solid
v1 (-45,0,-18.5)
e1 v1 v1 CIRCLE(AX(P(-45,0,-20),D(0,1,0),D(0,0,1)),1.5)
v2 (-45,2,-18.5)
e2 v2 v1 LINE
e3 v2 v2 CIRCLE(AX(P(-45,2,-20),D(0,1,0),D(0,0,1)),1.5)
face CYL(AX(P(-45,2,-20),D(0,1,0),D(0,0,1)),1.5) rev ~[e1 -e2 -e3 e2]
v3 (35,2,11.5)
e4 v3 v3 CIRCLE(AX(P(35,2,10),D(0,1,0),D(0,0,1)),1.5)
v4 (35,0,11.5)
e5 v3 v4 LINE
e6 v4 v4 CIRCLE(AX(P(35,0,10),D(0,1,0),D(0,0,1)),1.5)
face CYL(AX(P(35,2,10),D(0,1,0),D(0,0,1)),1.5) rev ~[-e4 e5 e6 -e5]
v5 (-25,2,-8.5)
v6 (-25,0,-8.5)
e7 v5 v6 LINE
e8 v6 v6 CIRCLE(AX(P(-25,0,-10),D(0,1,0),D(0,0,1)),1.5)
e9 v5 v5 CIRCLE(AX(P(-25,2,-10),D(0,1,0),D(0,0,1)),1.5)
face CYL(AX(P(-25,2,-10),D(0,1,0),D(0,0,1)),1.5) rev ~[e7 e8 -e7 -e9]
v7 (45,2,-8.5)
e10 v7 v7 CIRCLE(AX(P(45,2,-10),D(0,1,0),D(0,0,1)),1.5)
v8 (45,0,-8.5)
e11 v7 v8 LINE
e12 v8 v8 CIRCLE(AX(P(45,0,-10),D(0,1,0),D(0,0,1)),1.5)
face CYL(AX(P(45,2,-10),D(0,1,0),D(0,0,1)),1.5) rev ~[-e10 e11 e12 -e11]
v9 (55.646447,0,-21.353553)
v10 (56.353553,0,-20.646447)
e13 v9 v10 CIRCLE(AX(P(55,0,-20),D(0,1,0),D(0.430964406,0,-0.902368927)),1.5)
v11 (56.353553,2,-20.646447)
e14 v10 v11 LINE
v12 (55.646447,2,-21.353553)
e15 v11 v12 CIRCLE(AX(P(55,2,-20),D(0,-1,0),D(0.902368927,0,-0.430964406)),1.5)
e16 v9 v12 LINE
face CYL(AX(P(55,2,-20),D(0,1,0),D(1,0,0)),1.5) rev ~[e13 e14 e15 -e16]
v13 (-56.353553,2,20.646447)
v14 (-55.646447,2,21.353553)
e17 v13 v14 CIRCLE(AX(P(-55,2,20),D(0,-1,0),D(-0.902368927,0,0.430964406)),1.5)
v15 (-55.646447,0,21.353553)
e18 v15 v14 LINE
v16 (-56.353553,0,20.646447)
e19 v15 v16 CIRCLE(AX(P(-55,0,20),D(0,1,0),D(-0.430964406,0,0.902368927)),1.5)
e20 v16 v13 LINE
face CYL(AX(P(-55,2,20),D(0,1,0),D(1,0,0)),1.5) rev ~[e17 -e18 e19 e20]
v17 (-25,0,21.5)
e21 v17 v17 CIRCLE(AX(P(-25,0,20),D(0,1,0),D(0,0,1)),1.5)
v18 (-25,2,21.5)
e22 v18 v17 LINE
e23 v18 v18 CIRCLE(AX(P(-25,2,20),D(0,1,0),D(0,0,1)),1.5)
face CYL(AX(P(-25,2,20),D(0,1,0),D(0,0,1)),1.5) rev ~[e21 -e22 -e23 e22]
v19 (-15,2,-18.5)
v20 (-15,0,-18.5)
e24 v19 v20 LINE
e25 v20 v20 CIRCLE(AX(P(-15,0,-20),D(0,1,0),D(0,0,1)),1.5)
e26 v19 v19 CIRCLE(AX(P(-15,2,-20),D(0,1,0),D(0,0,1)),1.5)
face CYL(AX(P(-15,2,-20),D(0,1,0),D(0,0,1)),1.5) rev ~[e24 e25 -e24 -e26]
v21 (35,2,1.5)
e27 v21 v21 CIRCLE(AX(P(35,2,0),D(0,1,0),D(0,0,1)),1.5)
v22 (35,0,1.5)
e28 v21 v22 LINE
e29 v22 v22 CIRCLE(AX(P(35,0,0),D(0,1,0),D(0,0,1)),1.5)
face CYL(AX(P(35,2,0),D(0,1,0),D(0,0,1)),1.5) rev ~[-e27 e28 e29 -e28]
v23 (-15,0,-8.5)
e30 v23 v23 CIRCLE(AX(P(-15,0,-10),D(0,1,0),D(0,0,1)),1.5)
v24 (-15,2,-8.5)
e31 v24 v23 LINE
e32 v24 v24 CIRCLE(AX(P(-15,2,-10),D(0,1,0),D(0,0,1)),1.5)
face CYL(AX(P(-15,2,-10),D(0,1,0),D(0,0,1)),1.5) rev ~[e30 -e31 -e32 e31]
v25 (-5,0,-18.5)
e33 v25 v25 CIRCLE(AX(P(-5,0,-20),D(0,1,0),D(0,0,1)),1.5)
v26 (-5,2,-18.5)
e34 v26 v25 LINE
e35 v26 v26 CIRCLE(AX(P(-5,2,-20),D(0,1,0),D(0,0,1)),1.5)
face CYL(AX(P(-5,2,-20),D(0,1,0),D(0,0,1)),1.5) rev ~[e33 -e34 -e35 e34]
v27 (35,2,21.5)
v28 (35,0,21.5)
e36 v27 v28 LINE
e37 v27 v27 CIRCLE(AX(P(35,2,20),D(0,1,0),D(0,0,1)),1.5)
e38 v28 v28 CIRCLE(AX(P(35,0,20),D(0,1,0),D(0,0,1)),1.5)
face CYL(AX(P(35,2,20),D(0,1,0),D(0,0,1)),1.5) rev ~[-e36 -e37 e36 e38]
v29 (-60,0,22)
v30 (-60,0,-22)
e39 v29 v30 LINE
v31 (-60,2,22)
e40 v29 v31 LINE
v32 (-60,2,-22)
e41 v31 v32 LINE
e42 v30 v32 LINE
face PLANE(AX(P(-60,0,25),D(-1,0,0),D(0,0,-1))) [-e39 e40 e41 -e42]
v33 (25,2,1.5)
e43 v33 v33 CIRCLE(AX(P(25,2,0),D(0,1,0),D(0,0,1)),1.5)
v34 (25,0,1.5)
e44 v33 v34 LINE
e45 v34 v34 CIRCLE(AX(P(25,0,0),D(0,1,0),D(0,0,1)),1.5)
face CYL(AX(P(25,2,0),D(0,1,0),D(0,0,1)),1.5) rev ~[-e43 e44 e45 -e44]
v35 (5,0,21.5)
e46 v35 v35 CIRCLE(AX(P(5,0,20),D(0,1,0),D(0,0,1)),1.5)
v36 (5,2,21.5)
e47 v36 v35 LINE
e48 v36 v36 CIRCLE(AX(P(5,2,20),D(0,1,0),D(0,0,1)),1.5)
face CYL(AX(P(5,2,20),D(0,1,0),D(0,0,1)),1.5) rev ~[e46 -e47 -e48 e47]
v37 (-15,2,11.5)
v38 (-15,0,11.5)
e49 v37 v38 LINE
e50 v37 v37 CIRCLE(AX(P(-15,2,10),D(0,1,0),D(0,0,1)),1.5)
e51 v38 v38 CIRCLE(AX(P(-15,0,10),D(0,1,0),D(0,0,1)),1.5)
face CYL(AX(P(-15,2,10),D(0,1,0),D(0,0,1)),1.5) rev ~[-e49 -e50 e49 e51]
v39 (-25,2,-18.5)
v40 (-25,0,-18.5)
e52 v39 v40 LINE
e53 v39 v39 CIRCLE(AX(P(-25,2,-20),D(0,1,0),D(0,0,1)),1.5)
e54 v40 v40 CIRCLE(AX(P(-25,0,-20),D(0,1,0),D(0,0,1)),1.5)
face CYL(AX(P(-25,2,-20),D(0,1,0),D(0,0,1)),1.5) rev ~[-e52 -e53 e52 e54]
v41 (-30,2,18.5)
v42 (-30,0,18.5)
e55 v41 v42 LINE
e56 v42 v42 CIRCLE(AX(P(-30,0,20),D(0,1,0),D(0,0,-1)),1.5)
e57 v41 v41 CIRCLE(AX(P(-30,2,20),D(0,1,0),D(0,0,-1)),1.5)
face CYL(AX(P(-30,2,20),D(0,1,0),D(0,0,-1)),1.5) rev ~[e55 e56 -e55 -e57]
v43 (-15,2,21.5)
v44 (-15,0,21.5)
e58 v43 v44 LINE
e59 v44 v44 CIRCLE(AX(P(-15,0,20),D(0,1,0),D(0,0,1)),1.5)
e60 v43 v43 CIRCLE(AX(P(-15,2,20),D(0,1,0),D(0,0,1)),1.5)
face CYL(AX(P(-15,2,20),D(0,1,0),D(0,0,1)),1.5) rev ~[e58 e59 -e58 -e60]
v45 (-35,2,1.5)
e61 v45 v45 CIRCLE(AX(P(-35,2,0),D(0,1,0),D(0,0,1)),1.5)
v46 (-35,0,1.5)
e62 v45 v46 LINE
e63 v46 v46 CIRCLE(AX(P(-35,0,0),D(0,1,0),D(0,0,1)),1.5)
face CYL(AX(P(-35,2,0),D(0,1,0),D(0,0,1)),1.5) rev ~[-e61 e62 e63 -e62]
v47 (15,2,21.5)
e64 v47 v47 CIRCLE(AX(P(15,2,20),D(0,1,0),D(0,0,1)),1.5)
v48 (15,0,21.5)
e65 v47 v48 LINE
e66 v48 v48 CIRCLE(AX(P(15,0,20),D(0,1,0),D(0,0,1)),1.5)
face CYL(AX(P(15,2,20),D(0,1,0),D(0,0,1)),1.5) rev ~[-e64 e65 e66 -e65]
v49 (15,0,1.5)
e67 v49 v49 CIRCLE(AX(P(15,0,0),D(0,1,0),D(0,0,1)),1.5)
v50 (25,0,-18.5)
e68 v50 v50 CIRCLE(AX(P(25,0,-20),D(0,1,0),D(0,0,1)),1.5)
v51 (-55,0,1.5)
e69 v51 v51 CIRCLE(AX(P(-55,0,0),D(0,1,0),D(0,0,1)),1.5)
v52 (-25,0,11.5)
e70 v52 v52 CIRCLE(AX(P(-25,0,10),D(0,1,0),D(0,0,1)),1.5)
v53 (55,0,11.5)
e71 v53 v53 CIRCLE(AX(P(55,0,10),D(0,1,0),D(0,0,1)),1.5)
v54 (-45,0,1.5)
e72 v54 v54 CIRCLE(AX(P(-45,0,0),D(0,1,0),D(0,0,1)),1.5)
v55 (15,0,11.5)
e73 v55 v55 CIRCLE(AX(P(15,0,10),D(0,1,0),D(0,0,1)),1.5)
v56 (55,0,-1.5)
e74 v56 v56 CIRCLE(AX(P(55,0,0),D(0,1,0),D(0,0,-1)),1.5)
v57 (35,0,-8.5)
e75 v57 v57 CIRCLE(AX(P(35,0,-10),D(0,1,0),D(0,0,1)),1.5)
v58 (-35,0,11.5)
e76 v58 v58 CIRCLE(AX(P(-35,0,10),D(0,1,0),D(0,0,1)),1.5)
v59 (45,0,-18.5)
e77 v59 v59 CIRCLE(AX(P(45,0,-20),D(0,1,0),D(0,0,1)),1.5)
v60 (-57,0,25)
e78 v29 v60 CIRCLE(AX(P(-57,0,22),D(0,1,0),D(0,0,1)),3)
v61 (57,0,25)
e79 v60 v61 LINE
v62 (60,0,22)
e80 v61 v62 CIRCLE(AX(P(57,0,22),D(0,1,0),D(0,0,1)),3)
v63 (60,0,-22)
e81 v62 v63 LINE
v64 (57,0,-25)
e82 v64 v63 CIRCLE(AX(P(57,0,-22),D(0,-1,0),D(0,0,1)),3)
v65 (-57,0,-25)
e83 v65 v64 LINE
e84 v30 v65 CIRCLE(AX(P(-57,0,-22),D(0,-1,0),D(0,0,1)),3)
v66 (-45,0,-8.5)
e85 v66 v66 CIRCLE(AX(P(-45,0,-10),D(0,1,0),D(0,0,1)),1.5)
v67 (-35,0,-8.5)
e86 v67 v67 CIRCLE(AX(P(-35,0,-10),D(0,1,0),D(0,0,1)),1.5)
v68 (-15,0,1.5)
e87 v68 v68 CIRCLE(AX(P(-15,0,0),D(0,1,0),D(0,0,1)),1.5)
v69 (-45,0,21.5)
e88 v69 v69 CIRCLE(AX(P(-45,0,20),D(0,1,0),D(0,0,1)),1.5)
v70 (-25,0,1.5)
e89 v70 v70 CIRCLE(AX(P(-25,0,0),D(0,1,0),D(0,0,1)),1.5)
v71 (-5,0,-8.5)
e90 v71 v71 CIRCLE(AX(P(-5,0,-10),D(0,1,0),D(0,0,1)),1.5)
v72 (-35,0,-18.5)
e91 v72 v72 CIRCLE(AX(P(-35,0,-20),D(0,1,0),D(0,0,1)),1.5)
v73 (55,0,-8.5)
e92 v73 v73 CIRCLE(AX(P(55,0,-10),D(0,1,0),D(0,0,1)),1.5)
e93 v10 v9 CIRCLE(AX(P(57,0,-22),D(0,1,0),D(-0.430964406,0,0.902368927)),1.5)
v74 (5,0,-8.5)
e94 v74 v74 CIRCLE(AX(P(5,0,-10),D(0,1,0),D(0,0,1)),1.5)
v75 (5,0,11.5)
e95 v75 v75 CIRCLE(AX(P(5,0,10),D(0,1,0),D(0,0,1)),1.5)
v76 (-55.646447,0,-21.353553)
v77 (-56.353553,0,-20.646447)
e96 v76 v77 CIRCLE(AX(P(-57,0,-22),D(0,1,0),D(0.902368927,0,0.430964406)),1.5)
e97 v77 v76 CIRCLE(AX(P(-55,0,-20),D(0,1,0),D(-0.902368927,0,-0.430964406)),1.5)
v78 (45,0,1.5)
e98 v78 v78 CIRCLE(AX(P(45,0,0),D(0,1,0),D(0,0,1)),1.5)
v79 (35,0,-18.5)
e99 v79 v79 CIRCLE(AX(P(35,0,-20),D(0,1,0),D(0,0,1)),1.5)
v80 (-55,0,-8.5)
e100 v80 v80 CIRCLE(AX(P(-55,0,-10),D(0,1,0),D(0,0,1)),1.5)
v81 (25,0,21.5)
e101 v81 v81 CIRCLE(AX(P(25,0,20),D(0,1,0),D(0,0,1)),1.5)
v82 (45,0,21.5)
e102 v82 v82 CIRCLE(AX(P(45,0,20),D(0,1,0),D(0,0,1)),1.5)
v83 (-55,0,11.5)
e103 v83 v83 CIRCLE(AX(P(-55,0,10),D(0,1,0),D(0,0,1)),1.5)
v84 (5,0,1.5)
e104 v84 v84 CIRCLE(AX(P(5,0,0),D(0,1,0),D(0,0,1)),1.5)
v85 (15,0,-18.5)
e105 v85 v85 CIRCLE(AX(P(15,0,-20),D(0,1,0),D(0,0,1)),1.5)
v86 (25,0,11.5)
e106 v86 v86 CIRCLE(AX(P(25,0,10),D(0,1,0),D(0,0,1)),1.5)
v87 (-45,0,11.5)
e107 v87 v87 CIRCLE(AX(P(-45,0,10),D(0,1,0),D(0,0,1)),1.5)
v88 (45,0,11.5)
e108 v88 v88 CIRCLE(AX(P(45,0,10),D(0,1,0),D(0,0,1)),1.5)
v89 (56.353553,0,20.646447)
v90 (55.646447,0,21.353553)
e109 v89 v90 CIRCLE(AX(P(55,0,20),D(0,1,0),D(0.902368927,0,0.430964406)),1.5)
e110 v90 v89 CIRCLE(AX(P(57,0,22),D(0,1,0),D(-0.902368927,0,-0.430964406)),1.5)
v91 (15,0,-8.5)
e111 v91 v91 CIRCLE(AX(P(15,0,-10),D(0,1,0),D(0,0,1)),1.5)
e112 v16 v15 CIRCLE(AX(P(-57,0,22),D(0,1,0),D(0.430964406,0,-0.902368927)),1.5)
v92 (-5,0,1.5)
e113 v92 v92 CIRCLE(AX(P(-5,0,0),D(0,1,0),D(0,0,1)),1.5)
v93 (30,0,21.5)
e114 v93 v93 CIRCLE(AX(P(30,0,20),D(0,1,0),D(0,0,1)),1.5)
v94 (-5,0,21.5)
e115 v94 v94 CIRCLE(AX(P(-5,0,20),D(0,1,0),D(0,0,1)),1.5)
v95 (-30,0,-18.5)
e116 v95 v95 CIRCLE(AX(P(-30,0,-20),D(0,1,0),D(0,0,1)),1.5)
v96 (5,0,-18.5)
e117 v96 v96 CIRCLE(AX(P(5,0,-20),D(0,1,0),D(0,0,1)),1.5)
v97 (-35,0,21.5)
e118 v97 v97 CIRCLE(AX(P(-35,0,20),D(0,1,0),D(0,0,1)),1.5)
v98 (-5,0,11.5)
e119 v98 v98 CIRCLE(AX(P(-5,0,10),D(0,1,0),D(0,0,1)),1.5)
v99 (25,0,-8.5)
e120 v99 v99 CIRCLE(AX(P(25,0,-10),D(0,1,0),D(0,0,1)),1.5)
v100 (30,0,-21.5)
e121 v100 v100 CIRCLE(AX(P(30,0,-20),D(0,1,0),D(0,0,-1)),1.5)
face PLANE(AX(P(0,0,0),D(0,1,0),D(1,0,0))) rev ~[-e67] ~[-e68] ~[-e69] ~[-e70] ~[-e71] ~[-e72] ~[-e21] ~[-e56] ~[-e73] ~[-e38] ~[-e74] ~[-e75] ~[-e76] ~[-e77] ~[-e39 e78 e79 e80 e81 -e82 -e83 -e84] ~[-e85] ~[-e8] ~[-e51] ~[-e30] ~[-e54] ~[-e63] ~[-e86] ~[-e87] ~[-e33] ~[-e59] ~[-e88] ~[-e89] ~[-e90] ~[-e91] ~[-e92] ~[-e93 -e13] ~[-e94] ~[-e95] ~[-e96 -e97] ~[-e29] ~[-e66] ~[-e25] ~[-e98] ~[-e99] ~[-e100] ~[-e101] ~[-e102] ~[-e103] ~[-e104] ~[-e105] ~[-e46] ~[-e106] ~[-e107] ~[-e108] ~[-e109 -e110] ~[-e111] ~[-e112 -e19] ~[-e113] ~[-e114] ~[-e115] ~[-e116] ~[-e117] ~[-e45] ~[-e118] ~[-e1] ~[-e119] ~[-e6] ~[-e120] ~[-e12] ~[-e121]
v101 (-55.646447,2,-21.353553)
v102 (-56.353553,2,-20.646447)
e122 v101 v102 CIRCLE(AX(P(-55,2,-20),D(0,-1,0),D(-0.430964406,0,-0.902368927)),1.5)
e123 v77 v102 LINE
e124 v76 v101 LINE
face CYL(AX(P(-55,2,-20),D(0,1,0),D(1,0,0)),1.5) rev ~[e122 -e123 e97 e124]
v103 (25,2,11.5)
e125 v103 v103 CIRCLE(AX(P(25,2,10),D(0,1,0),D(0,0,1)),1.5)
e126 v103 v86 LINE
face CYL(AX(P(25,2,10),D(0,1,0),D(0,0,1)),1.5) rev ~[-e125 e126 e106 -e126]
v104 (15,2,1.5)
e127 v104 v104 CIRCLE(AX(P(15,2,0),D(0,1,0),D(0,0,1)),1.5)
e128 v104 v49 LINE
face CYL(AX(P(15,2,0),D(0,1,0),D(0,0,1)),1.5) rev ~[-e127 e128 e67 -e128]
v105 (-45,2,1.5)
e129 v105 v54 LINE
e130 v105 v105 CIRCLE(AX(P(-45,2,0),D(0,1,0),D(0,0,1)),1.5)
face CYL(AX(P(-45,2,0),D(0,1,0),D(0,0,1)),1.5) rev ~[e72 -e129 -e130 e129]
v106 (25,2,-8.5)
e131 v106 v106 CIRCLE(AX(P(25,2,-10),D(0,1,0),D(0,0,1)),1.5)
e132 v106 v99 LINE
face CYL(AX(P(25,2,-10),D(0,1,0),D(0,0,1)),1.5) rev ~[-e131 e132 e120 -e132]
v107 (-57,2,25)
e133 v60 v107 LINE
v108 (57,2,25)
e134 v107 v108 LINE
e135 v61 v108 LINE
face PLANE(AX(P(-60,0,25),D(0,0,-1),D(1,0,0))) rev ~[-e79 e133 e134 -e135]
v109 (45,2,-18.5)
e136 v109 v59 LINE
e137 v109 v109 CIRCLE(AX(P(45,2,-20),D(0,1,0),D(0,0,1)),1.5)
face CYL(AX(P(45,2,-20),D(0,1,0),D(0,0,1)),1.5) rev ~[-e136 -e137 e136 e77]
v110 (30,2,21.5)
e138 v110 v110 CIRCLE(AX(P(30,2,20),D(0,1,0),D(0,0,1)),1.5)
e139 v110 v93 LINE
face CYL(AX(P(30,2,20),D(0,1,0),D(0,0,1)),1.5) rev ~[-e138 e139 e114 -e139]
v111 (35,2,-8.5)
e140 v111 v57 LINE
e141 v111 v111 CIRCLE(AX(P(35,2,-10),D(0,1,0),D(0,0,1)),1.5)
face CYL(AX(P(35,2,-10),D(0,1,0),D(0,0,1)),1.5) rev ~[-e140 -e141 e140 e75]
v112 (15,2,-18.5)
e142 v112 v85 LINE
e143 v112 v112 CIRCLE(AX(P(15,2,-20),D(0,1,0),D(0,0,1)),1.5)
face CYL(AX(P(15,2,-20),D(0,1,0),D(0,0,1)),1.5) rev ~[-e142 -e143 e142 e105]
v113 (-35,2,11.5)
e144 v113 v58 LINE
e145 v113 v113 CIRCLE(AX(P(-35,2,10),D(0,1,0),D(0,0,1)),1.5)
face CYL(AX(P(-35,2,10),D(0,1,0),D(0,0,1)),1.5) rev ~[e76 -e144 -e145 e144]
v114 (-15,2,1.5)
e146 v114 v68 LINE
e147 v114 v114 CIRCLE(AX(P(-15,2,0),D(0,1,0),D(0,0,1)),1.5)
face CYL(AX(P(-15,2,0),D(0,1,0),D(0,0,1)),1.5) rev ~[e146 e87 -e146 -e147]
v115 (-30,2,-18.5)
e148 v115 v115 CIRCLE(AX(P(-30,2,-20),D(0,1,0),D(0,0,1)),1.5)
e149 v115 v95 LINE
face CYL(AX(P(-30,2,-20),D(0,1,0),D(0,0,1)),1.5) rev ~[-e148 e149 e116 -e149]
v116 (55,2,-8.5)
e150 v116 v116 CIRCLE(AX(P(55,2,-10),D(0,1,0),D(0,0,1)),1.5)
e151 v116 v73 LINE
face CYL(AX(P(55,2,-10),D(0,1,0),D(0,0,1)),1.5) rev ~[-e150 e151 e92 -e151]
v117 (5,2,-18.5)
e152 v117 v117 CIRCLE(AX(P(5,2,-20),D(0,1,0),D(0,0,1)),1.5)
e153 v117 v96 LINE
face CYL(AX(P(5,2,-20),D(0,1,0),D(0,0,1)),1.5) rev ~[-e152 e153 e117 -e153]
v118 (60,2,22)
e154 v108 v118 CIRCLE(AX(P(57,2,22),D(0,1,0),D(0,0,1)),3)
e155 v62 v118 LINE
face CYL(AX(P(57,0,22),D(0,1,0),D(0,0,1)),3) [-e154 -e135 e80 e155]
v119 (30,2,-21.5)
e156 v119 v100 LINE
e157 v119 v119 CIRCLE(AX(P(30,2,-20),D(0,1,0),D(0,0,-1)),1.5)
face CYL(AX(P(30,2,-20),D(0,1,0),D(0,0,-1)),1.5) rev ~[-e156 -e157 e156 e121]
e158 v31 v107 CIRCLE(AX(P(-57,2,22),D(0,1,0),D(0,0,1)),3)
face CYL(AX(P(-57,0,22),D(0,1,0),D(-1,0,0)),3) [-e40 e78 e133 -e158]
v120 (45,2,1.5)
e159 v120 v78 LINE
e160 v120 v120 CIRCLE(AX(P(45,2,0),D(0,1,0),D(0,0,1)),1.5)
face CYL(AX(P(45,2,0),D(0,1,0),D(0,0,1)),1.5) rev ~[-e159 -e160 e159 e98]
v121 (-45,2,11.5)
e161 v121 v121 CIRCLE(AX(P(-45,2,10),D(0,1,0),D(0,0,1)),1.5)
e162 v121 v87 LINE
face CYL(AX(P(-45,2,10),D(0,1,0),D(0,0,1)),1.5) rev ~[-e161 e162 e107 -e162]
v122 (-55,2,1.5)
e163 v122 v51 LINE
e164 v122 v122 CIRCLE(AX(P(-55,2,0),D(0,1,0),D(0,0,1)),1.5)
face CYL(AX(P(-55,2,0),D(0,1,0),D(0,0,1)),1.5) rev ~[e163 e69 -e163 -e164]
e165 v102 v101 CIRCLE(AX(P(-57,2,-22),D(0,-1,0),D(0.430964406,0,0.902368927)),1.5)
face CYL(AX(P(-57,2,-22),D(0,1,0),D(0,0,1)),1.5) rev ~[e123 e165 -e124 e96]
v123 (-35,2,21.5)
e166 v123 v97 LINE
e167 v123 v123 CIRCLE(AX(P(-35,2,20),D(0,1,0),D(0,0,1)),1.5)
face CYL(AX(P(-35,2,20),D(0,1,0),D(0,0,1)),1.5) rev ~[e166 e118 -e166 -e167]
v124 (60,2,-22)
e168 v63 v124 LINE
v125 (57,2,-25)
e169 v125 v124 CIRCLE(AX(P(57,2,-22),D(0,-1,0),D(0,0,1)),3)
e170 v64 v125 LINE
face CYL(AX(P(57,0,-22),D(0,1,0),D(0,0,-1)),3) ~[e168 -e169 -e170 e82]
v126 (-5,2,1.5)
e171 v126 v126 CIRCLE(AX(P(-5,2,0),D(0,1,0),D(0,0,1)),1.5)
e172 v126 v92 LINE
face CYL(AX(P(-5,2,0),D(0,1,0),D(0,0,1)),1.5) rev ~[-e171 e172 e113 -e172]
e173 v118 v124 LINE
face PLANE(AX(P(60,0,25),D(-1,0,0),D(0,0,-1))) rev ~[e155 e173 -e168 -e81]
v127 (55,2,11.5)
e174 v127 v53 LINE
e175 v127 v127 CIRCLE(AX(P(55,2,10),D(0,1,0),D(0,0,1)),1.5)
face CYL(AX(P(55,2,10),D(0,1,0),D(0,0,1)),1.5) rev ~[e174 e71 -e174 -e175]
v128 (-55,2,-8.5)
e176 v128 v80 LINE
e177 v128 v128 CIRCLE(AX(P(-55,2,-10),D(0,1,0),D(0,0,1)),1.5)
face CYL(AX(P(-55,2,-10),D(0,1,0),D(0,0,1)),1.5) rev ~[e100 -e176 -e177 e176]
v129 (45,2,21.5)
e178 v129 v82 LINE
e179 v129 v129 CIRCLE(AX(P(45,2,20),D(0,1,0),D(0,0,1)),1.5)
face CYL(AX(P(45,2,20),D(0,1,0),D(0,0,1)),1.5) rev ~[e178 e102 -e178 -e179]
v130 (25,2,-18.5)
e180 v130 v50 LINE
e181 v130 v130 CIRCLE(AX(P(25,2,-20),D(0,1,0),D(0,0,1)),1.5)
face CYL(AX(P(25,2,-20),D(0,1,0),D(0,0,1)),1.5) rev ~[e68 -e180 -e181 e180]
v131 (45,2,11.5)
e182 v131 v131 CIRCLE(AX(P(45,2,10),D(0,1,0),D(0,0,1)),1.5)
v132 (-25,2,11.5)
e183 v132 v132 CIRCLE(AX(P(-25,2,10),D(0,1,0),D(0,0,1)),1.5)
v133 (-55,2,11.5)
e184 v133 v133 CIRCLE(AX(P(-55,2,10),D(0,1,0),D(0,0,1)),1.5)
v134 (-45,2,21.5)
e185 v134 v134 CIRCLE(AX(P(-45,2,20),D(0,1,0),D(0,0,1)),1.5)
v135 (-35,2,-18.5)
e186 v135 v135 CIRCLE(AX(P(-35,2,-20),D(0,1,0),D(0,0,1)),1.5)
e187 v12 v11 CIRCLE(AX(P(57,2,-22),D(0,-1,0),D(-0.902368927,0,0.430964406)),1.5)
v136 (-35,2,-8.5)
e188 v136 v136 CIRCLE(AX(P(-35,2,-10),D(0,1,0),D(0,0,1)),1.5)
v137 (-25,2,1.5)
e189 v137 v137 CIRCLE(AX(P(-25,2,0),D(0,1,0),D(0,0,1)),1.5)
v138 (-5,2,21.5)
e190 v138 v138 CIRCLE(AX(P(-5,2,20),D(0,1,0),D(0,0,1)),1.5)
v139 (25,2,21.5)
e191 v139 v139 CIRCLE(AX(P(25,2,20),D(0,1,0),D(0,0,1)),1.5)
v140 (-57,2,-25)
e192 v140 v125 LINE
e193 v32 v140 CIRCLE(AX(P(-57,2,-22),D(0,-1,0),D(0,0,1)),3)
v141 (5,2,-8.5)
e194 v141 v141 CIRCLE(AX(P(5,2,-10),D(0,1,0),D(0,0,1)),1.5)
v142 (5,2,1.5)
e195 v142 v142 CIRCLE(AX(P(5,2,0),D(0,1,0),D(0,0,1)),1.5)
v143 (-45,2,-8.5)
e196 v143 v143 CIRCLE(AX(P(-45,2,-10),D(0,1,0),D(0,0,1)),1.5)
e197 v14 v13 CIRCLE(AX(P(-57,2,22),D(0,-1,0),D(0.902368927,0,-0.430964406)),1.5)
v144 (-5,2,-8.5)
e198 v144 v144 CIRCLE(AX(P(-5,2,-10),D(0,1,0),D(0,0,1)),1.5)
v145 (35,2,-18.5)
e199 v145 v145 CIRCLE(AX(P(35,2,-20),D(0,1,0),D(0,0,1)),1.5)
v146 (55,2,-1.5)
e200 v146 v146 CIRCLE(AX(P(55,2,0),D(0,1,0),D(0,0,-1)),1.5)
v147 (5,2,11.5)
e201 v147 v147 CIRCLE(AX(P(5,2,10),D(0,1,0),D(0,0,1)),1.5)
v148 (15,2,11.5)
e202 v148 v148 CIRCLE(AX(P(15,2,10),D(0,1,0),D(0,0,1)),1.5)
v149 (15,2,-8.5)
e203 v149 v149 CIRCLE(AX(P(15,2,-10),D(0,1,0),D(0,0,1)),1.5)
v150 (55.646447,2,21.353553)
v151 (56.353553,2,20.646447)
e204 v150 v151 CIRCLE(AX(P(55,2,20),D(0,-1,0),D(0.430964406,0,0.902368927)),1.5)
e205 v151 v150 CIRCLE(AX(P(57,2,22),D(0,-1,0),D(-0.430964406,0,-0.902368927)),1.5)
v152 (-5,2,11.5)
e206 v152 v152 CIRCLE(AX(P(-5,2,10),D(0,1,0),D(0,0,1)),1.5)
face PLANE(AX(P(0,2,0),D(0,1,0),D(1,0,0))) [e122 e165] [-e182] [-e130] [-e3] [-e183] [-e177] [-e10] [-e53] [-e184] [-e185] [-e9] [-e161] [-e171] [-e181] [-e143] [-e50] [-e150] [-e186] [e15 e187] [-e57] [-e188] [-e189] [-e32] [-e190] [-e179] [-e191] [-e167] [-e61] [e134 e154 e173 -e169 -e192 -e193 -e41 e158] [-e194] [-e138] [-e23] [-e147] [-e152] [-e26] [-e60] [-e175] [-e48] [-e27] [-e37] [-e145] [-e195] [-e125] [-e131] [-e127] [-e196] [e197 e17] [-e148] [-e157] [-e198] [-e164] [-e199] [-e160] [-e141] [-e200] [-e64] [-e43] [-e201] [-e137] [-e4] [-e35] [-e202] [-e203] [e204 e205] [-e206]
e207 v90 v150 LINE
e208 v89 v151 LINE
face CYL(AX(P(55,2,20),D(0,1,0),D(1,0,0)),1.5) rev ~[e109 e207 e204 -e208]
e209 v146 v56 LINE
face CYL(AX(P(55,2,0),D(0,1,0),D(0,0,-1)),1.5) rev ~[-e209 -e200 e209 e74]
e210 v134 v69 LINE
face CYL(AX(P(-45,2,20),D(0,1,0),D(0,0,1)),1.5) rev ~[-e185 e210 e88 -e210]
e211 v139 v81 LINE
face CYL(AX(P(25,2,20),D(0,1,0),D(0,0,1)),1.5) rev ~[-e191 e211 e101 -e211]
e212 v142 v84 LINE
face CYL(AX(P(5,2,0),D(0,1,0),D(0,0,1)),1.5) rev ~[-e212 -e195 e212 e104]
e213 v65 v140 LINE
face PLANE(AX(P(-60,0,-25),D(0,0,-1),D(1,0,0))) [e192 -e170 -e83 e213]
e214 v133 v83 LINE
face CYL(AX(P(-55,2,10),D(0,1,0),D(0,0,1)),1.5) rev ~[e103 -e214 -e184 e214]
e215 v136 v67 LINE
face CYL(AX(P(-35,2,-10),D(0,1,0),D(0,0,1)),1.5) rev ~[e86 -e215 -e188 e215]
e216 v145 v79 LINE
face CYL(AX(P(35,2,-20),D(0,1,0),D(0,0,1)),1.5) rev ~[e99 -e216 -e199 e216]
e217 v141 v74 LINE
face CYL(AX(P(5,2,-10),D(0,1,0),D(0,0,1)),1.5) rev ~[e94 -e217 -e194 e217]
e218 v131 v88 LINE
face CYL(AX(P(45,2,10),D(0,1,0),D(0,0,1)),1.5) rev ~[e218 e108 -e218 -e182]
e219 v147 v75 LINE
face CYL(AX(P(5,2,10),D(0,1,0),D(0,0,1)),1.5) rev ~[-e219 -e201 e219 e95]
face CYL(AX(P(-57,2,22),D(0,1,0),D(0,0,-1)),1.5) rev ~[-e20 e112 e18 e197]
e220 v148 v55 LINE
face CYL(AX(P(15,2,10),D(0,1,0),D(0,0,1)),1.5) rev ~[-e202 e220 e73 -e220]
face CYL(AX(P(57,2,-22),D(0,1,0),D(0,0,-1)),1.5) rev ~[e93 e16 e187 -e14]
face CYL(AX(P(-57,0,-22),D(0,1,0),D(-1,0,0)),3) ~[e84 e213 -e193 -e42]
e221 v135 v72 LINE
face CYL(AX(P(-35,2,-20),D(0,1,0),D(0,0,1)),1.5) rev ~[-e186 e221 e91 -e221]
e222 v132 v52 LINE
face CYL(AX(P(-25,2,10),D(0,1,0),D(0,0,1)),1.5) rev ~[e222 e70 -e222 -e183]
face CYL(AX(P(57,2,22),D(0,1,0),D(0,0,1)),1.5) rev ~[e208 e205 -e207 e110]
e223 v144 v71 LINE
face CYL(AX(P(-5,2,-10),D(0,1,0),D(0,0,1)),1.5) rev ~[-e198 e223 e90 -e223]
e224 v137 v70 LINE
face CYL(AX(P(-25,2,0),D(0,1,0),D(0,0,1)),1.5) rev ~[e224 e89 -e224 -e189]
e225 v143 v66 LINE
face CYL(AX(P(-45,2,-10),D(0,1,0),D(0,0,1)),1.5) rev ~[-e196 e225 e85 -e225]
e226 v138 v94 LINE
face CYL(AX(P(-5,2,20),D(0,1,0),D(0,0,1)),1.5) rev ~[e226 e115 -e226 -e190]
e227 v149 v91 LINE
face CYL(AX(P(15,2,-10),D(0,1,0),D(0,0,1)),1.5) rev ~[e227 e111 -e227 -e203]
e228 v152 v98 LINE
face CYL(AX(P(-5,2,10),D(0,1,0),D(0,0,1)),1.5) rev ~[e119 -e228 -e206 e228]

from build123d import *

# Parameters (mm, degrees)
SKETCH_1_W          = 120
SKETCH_1_H          = 50
EXTRUDE_1_DEPTH     = 2
SKETCH_2_R          = 1.5
CUT_EXTRUDE_1_DEPTH = 66.030761952
FILLET_1_R          = 3
SKETCH_3_R          = 1.5
CUT_EXTRUDE_2_DEPTH = 66.030761952


with BuildPart() as part:
    # 草图1 → 凸台-拉伸1 (new body)
    with BuildSketch(Plane(origin=(0, 0, 0), x_dir=(1, 0, 0), z_dir=(0, 1, 0))):
        Rectangle(SKETCH_1_W, SKETCH_1_H)
    extrude(amount=EXTRUDE_1_DEPTH)

    # 草图2 → 切除-拉伸1 (cut, through all)
    with BuildSketch(Plane(origin=(0, 2, 0), x_dir=(1, 0, 0), z_dir=(0, 1, 0))):
        with Locations(Location((-30, 20, 0), (0, 0, 270))):
            Circle(SKETCH_2_R)
        with Locations(Location((-55, 0, 0), (0, 0, 270))):
            Circle(SKETCH_2_R)
        with Locations(Location((-30, -20, 0), (0, 0, 90))):
            Circle(SKETCH_2_R)
        with Locations(Location((30, -20, 0), (0, 0, 270))):
            Circle(SKETCH_2_R)
        with Locations(Location((55, 0, 0), (0, 0, 90))):
            Circle(SKETCH_2_R)
        with Locations(Location((30, 20, 0), (0, 0, 90))):
            Circle(SKETCH_2_R)
        with Locations(Location((-57, 22, 0), (0, 0, 270))):
            Circle(SKETCH_2_R)
        with Locations(Location((-57, -22, 0), (0, 0, 90))):
            Circle(SKETCH_2_R)
        with Locations(Location((57, -22, 0), (0, 0, 270))):
            Circle(SKETCH_2_R)
        with Locations(Location((57, 22, 0), (0, 0, 90))):
            Circle(SKETCH_2_R)
    extrude(amount=-CUT_EXTRUDE_1_DEPTH, mode=Mode.SUBTRACT)

    # 圆角1
    fillet_1_edges = [part.edges().sort_by_distance(p)[0] for p in [
        (60, 1, 25),
        (-60, 1, 25),
        (-60, 1, -25),
        (60, 1, -25),
    ]]
    fillet(fillet_1_edges, radius=FILLET_1_R)

    # 草图3 → 切除-拉伸2 (cut, through all)
    with BuildSketch(Plane(origin=(0, 2, 0), x_dir=(1, 0, 0), z_dir=(0, 1, 0))):
        with Locations((-55, 20)):
            Circle(SKETCH_3_R)
        with Locations(Location((-45, 20, 0), (0, 0, 270))):
            Circle(SKETCH_3_R)
        with Locations(Location((-35, 20, 0), (0, 0, 270))):
            Circle(SKETCH_3_R)
        with Locations(Location((-25, 20, 0), (0, 0, 270))):
            Circle(SKETCH_3_R)
        with Locations(Location((-15, 20, 0), (0, 0, 270))):
            Circle(SKETCH_3_R)
        with Locations(Location((-5, 20, 0), (0, 0, 270))):
            Circle(SKETCH_3_R)
        with Locations(Location((5, 20, 0), (0, 0, 270))):
            Circle(SKETCH_3_R)
        with Locations(Location((15, 20, 0), (0, 0, 270))):
            Circle(SKETCH_3_R)
        with Locations(Location((25, 20, 0), (0, 0, 270))):
            Circle(SKETCH_3_R)
        with Locations(Location((35, 20, 0), (0, 0, 270))):
            Circle(SKETCH_3_R)
        with Locations(Location((45, 20, 0), (0, 0, 270))):
            Circle(SKETCH_3_R)
        with Locations((55, 20)):
            Circle(SKETCH_3_R)
        with Locations(Location((-45, 10, 0), (0, 0, 270))):
            Circle(SKETCH_3_R)
        with Locations(Location((-35, 10, 0), (0, 0, 270))):
            Circle(SKETCH_3_R)
        with Locations(Location((-25, 10, 0), (0, 0, 270))):
            Circle(SKETCH_3_R)
        with Locations(Location((-15, 10, 0), (0, 0, 270))):
            Circle(SKETCH_3_R)
        with Locations(Location((-5, 10, 0), (0, 0, 270))):
            Circle(SKETCH_3_R)
        with Locations(Location((5, 10, 0), (0, 0, 270))):
            Circle(SKETCH_3_R)
        with Locations(Location((15, 10, 0), (0, 0, 270))):
            Circle(SKETCH_3_R)
        with Locations(Location((25, 10, 0), (0, 0, 270))):
            Circle(SKETCH_3_R)
        with Locations(Location((35, 10, 0), (0, 0, 270))):
            Circle(SKETCH_3_R)
        with Locations(Location((45, 10, 0), (0, 0, 270))):
            Circle(SKETCH_3_R)
        with Locations(Location((55, 10, 0), (0, 0, 270))):
            Circle(SKETCH_3_R)
        with Locations(Location((-45, 0, 0), (0, 0, 270))):
            Circle(SKETCH_3_R)
        with Locations(Location((-35, 0, 0), (0, 0, 270))):
            Circle(SKETCH_3_R)
        with Locations(Location((-25, 0, 0), (0, 0, 270))):
            Circle(SKETCH_3_R)
        with Locations(Location((-15, 0, 0), (0, 0, 270))):
            Circle(SKETCH_3_R)
        with Locations(Location((-5, 0, 0), (0, 0, 270))):
            Circle(SKETCH_3_R)
        with Locations(Location((5, 0, 0), (0, 0, 270))):
            Circle(SKETCH_3_R)
        with Locations(Location((15, 0, 0), (0, 0, 270))):
            Circle(SKETCH_3_R)
        with Locations(Location((25, 0, 0), (0, 0, 270))):
            Circle(SKETCH_3_R)
        with Locations(Location((35, 0, 0), (0, 0, 270))):
            Circle(SKETCH_3_R)
        with Locations(Location((45, 0, 0), (0, 0, 270))):
            Circle(SKETCH_3_R)
        with Locations(Location((55, 0, 0), (0, 0, 90))):
            Circle(SKETCH_3_R)
        with Locations(Location((-45, -10, 0), (0, 0, 270))):
            Circle(SKETCH_3_R)
        with Locations(Location((-35, -10, 0), (0, 0, 270))):
            Circle(SKETCH_3_R)
        with Locations(Location((-25, -10, 0), (0, 0, 270))):
            Circle(SKETCH_3_R)
        with Locations(Location((-15, -10, 0), (0, 0, 270))):
            Circle(SKETCH_3_R)
        with Locations(Location((-5, -10, 0), (0, 0, 270))):
            Circle(SKETCH_3_R)
        with Locations(Location((5, -10, 0), (0, 0, 270))):
            Circle(SKETCH_3_R)
        with Locations(Location((15, -10, 0), (0, 0, 270))):
            Circle(SKETCH_3_R)
        with Locations(Location((25, -10, 0), (0, 0, 270))):
            Circle(SKETCH_3_R)
        with Locations(Location((35, -10, 0), (0, 0, 270))):
            Circle(SKETCH_3_R)
        with Locations(Location((45, -10, 0), (0, 0, 270))):
            Circle(SKETCH_3_R)
        with Locations(Location((55, -10, 0), (0, 0, 270))):
            Circle(SKETCH_3_R)
        with Locations(Location((-45, -20, 0), (0, 0, 270))):
            Circle(SKETCH_3_R)
        with Locations(Location((-35, -20, 0), (0, 0, 270))):
            Circle(SKETCH_3_R)
        with Locations(Location((-25, -20, 0), (0, 0, 270))):
            Circle(SKETCH_3_R)
        with Locations(Location((-15, -20, 0), (0, 0, 270))):
            Circle(SKETCH_3_R)
        with Locations(Location((-5, -20, 0), (0, 0, 270))):
            Circle(SKETCH_3_R)
        with Locations(Location((5, -20, 0), (0, 0, 270))):
            Circle(SKETCH_3_R)
        with Locations(Location((15, -20, 0), (0, 0, 270))):
            Circle(SKETCH_3_R)
        with Locations(Location((25, -20, 0), (0, 0, 270))):
            Circle(SKETCH_3_R)
        with Locations(Location((35, -20, 0), (0, 0, 270))):
            Circle(SKETCH_3_R)
        with Locations(Location((45, -20, 0), (0, 0, 270))):
            Circle(SKETCH_3_R)
        with Locations((55, -20)):
            Circle(SKETCH_3_R)
        with Locations(Location((-55, 10, 0), (0, 0, 270))):
            Circle(SKETCH_3_R)
        with Locations(Location((-55, 0, 0), (0, 0, 270))):
            Circle(SKETCH_3_R)
        with Locations(Location((-55, -10, 0), (0, 0, 270))):
            Circle(SKETCH_3_R)
        with Locations((-55, -20)):
            Circle(SKETCH_3_R)
    extrude(amount=-CUT_EXTRUDE_2_DEPTH, mode=Mode.SUBTRACT)


solid = part.part
